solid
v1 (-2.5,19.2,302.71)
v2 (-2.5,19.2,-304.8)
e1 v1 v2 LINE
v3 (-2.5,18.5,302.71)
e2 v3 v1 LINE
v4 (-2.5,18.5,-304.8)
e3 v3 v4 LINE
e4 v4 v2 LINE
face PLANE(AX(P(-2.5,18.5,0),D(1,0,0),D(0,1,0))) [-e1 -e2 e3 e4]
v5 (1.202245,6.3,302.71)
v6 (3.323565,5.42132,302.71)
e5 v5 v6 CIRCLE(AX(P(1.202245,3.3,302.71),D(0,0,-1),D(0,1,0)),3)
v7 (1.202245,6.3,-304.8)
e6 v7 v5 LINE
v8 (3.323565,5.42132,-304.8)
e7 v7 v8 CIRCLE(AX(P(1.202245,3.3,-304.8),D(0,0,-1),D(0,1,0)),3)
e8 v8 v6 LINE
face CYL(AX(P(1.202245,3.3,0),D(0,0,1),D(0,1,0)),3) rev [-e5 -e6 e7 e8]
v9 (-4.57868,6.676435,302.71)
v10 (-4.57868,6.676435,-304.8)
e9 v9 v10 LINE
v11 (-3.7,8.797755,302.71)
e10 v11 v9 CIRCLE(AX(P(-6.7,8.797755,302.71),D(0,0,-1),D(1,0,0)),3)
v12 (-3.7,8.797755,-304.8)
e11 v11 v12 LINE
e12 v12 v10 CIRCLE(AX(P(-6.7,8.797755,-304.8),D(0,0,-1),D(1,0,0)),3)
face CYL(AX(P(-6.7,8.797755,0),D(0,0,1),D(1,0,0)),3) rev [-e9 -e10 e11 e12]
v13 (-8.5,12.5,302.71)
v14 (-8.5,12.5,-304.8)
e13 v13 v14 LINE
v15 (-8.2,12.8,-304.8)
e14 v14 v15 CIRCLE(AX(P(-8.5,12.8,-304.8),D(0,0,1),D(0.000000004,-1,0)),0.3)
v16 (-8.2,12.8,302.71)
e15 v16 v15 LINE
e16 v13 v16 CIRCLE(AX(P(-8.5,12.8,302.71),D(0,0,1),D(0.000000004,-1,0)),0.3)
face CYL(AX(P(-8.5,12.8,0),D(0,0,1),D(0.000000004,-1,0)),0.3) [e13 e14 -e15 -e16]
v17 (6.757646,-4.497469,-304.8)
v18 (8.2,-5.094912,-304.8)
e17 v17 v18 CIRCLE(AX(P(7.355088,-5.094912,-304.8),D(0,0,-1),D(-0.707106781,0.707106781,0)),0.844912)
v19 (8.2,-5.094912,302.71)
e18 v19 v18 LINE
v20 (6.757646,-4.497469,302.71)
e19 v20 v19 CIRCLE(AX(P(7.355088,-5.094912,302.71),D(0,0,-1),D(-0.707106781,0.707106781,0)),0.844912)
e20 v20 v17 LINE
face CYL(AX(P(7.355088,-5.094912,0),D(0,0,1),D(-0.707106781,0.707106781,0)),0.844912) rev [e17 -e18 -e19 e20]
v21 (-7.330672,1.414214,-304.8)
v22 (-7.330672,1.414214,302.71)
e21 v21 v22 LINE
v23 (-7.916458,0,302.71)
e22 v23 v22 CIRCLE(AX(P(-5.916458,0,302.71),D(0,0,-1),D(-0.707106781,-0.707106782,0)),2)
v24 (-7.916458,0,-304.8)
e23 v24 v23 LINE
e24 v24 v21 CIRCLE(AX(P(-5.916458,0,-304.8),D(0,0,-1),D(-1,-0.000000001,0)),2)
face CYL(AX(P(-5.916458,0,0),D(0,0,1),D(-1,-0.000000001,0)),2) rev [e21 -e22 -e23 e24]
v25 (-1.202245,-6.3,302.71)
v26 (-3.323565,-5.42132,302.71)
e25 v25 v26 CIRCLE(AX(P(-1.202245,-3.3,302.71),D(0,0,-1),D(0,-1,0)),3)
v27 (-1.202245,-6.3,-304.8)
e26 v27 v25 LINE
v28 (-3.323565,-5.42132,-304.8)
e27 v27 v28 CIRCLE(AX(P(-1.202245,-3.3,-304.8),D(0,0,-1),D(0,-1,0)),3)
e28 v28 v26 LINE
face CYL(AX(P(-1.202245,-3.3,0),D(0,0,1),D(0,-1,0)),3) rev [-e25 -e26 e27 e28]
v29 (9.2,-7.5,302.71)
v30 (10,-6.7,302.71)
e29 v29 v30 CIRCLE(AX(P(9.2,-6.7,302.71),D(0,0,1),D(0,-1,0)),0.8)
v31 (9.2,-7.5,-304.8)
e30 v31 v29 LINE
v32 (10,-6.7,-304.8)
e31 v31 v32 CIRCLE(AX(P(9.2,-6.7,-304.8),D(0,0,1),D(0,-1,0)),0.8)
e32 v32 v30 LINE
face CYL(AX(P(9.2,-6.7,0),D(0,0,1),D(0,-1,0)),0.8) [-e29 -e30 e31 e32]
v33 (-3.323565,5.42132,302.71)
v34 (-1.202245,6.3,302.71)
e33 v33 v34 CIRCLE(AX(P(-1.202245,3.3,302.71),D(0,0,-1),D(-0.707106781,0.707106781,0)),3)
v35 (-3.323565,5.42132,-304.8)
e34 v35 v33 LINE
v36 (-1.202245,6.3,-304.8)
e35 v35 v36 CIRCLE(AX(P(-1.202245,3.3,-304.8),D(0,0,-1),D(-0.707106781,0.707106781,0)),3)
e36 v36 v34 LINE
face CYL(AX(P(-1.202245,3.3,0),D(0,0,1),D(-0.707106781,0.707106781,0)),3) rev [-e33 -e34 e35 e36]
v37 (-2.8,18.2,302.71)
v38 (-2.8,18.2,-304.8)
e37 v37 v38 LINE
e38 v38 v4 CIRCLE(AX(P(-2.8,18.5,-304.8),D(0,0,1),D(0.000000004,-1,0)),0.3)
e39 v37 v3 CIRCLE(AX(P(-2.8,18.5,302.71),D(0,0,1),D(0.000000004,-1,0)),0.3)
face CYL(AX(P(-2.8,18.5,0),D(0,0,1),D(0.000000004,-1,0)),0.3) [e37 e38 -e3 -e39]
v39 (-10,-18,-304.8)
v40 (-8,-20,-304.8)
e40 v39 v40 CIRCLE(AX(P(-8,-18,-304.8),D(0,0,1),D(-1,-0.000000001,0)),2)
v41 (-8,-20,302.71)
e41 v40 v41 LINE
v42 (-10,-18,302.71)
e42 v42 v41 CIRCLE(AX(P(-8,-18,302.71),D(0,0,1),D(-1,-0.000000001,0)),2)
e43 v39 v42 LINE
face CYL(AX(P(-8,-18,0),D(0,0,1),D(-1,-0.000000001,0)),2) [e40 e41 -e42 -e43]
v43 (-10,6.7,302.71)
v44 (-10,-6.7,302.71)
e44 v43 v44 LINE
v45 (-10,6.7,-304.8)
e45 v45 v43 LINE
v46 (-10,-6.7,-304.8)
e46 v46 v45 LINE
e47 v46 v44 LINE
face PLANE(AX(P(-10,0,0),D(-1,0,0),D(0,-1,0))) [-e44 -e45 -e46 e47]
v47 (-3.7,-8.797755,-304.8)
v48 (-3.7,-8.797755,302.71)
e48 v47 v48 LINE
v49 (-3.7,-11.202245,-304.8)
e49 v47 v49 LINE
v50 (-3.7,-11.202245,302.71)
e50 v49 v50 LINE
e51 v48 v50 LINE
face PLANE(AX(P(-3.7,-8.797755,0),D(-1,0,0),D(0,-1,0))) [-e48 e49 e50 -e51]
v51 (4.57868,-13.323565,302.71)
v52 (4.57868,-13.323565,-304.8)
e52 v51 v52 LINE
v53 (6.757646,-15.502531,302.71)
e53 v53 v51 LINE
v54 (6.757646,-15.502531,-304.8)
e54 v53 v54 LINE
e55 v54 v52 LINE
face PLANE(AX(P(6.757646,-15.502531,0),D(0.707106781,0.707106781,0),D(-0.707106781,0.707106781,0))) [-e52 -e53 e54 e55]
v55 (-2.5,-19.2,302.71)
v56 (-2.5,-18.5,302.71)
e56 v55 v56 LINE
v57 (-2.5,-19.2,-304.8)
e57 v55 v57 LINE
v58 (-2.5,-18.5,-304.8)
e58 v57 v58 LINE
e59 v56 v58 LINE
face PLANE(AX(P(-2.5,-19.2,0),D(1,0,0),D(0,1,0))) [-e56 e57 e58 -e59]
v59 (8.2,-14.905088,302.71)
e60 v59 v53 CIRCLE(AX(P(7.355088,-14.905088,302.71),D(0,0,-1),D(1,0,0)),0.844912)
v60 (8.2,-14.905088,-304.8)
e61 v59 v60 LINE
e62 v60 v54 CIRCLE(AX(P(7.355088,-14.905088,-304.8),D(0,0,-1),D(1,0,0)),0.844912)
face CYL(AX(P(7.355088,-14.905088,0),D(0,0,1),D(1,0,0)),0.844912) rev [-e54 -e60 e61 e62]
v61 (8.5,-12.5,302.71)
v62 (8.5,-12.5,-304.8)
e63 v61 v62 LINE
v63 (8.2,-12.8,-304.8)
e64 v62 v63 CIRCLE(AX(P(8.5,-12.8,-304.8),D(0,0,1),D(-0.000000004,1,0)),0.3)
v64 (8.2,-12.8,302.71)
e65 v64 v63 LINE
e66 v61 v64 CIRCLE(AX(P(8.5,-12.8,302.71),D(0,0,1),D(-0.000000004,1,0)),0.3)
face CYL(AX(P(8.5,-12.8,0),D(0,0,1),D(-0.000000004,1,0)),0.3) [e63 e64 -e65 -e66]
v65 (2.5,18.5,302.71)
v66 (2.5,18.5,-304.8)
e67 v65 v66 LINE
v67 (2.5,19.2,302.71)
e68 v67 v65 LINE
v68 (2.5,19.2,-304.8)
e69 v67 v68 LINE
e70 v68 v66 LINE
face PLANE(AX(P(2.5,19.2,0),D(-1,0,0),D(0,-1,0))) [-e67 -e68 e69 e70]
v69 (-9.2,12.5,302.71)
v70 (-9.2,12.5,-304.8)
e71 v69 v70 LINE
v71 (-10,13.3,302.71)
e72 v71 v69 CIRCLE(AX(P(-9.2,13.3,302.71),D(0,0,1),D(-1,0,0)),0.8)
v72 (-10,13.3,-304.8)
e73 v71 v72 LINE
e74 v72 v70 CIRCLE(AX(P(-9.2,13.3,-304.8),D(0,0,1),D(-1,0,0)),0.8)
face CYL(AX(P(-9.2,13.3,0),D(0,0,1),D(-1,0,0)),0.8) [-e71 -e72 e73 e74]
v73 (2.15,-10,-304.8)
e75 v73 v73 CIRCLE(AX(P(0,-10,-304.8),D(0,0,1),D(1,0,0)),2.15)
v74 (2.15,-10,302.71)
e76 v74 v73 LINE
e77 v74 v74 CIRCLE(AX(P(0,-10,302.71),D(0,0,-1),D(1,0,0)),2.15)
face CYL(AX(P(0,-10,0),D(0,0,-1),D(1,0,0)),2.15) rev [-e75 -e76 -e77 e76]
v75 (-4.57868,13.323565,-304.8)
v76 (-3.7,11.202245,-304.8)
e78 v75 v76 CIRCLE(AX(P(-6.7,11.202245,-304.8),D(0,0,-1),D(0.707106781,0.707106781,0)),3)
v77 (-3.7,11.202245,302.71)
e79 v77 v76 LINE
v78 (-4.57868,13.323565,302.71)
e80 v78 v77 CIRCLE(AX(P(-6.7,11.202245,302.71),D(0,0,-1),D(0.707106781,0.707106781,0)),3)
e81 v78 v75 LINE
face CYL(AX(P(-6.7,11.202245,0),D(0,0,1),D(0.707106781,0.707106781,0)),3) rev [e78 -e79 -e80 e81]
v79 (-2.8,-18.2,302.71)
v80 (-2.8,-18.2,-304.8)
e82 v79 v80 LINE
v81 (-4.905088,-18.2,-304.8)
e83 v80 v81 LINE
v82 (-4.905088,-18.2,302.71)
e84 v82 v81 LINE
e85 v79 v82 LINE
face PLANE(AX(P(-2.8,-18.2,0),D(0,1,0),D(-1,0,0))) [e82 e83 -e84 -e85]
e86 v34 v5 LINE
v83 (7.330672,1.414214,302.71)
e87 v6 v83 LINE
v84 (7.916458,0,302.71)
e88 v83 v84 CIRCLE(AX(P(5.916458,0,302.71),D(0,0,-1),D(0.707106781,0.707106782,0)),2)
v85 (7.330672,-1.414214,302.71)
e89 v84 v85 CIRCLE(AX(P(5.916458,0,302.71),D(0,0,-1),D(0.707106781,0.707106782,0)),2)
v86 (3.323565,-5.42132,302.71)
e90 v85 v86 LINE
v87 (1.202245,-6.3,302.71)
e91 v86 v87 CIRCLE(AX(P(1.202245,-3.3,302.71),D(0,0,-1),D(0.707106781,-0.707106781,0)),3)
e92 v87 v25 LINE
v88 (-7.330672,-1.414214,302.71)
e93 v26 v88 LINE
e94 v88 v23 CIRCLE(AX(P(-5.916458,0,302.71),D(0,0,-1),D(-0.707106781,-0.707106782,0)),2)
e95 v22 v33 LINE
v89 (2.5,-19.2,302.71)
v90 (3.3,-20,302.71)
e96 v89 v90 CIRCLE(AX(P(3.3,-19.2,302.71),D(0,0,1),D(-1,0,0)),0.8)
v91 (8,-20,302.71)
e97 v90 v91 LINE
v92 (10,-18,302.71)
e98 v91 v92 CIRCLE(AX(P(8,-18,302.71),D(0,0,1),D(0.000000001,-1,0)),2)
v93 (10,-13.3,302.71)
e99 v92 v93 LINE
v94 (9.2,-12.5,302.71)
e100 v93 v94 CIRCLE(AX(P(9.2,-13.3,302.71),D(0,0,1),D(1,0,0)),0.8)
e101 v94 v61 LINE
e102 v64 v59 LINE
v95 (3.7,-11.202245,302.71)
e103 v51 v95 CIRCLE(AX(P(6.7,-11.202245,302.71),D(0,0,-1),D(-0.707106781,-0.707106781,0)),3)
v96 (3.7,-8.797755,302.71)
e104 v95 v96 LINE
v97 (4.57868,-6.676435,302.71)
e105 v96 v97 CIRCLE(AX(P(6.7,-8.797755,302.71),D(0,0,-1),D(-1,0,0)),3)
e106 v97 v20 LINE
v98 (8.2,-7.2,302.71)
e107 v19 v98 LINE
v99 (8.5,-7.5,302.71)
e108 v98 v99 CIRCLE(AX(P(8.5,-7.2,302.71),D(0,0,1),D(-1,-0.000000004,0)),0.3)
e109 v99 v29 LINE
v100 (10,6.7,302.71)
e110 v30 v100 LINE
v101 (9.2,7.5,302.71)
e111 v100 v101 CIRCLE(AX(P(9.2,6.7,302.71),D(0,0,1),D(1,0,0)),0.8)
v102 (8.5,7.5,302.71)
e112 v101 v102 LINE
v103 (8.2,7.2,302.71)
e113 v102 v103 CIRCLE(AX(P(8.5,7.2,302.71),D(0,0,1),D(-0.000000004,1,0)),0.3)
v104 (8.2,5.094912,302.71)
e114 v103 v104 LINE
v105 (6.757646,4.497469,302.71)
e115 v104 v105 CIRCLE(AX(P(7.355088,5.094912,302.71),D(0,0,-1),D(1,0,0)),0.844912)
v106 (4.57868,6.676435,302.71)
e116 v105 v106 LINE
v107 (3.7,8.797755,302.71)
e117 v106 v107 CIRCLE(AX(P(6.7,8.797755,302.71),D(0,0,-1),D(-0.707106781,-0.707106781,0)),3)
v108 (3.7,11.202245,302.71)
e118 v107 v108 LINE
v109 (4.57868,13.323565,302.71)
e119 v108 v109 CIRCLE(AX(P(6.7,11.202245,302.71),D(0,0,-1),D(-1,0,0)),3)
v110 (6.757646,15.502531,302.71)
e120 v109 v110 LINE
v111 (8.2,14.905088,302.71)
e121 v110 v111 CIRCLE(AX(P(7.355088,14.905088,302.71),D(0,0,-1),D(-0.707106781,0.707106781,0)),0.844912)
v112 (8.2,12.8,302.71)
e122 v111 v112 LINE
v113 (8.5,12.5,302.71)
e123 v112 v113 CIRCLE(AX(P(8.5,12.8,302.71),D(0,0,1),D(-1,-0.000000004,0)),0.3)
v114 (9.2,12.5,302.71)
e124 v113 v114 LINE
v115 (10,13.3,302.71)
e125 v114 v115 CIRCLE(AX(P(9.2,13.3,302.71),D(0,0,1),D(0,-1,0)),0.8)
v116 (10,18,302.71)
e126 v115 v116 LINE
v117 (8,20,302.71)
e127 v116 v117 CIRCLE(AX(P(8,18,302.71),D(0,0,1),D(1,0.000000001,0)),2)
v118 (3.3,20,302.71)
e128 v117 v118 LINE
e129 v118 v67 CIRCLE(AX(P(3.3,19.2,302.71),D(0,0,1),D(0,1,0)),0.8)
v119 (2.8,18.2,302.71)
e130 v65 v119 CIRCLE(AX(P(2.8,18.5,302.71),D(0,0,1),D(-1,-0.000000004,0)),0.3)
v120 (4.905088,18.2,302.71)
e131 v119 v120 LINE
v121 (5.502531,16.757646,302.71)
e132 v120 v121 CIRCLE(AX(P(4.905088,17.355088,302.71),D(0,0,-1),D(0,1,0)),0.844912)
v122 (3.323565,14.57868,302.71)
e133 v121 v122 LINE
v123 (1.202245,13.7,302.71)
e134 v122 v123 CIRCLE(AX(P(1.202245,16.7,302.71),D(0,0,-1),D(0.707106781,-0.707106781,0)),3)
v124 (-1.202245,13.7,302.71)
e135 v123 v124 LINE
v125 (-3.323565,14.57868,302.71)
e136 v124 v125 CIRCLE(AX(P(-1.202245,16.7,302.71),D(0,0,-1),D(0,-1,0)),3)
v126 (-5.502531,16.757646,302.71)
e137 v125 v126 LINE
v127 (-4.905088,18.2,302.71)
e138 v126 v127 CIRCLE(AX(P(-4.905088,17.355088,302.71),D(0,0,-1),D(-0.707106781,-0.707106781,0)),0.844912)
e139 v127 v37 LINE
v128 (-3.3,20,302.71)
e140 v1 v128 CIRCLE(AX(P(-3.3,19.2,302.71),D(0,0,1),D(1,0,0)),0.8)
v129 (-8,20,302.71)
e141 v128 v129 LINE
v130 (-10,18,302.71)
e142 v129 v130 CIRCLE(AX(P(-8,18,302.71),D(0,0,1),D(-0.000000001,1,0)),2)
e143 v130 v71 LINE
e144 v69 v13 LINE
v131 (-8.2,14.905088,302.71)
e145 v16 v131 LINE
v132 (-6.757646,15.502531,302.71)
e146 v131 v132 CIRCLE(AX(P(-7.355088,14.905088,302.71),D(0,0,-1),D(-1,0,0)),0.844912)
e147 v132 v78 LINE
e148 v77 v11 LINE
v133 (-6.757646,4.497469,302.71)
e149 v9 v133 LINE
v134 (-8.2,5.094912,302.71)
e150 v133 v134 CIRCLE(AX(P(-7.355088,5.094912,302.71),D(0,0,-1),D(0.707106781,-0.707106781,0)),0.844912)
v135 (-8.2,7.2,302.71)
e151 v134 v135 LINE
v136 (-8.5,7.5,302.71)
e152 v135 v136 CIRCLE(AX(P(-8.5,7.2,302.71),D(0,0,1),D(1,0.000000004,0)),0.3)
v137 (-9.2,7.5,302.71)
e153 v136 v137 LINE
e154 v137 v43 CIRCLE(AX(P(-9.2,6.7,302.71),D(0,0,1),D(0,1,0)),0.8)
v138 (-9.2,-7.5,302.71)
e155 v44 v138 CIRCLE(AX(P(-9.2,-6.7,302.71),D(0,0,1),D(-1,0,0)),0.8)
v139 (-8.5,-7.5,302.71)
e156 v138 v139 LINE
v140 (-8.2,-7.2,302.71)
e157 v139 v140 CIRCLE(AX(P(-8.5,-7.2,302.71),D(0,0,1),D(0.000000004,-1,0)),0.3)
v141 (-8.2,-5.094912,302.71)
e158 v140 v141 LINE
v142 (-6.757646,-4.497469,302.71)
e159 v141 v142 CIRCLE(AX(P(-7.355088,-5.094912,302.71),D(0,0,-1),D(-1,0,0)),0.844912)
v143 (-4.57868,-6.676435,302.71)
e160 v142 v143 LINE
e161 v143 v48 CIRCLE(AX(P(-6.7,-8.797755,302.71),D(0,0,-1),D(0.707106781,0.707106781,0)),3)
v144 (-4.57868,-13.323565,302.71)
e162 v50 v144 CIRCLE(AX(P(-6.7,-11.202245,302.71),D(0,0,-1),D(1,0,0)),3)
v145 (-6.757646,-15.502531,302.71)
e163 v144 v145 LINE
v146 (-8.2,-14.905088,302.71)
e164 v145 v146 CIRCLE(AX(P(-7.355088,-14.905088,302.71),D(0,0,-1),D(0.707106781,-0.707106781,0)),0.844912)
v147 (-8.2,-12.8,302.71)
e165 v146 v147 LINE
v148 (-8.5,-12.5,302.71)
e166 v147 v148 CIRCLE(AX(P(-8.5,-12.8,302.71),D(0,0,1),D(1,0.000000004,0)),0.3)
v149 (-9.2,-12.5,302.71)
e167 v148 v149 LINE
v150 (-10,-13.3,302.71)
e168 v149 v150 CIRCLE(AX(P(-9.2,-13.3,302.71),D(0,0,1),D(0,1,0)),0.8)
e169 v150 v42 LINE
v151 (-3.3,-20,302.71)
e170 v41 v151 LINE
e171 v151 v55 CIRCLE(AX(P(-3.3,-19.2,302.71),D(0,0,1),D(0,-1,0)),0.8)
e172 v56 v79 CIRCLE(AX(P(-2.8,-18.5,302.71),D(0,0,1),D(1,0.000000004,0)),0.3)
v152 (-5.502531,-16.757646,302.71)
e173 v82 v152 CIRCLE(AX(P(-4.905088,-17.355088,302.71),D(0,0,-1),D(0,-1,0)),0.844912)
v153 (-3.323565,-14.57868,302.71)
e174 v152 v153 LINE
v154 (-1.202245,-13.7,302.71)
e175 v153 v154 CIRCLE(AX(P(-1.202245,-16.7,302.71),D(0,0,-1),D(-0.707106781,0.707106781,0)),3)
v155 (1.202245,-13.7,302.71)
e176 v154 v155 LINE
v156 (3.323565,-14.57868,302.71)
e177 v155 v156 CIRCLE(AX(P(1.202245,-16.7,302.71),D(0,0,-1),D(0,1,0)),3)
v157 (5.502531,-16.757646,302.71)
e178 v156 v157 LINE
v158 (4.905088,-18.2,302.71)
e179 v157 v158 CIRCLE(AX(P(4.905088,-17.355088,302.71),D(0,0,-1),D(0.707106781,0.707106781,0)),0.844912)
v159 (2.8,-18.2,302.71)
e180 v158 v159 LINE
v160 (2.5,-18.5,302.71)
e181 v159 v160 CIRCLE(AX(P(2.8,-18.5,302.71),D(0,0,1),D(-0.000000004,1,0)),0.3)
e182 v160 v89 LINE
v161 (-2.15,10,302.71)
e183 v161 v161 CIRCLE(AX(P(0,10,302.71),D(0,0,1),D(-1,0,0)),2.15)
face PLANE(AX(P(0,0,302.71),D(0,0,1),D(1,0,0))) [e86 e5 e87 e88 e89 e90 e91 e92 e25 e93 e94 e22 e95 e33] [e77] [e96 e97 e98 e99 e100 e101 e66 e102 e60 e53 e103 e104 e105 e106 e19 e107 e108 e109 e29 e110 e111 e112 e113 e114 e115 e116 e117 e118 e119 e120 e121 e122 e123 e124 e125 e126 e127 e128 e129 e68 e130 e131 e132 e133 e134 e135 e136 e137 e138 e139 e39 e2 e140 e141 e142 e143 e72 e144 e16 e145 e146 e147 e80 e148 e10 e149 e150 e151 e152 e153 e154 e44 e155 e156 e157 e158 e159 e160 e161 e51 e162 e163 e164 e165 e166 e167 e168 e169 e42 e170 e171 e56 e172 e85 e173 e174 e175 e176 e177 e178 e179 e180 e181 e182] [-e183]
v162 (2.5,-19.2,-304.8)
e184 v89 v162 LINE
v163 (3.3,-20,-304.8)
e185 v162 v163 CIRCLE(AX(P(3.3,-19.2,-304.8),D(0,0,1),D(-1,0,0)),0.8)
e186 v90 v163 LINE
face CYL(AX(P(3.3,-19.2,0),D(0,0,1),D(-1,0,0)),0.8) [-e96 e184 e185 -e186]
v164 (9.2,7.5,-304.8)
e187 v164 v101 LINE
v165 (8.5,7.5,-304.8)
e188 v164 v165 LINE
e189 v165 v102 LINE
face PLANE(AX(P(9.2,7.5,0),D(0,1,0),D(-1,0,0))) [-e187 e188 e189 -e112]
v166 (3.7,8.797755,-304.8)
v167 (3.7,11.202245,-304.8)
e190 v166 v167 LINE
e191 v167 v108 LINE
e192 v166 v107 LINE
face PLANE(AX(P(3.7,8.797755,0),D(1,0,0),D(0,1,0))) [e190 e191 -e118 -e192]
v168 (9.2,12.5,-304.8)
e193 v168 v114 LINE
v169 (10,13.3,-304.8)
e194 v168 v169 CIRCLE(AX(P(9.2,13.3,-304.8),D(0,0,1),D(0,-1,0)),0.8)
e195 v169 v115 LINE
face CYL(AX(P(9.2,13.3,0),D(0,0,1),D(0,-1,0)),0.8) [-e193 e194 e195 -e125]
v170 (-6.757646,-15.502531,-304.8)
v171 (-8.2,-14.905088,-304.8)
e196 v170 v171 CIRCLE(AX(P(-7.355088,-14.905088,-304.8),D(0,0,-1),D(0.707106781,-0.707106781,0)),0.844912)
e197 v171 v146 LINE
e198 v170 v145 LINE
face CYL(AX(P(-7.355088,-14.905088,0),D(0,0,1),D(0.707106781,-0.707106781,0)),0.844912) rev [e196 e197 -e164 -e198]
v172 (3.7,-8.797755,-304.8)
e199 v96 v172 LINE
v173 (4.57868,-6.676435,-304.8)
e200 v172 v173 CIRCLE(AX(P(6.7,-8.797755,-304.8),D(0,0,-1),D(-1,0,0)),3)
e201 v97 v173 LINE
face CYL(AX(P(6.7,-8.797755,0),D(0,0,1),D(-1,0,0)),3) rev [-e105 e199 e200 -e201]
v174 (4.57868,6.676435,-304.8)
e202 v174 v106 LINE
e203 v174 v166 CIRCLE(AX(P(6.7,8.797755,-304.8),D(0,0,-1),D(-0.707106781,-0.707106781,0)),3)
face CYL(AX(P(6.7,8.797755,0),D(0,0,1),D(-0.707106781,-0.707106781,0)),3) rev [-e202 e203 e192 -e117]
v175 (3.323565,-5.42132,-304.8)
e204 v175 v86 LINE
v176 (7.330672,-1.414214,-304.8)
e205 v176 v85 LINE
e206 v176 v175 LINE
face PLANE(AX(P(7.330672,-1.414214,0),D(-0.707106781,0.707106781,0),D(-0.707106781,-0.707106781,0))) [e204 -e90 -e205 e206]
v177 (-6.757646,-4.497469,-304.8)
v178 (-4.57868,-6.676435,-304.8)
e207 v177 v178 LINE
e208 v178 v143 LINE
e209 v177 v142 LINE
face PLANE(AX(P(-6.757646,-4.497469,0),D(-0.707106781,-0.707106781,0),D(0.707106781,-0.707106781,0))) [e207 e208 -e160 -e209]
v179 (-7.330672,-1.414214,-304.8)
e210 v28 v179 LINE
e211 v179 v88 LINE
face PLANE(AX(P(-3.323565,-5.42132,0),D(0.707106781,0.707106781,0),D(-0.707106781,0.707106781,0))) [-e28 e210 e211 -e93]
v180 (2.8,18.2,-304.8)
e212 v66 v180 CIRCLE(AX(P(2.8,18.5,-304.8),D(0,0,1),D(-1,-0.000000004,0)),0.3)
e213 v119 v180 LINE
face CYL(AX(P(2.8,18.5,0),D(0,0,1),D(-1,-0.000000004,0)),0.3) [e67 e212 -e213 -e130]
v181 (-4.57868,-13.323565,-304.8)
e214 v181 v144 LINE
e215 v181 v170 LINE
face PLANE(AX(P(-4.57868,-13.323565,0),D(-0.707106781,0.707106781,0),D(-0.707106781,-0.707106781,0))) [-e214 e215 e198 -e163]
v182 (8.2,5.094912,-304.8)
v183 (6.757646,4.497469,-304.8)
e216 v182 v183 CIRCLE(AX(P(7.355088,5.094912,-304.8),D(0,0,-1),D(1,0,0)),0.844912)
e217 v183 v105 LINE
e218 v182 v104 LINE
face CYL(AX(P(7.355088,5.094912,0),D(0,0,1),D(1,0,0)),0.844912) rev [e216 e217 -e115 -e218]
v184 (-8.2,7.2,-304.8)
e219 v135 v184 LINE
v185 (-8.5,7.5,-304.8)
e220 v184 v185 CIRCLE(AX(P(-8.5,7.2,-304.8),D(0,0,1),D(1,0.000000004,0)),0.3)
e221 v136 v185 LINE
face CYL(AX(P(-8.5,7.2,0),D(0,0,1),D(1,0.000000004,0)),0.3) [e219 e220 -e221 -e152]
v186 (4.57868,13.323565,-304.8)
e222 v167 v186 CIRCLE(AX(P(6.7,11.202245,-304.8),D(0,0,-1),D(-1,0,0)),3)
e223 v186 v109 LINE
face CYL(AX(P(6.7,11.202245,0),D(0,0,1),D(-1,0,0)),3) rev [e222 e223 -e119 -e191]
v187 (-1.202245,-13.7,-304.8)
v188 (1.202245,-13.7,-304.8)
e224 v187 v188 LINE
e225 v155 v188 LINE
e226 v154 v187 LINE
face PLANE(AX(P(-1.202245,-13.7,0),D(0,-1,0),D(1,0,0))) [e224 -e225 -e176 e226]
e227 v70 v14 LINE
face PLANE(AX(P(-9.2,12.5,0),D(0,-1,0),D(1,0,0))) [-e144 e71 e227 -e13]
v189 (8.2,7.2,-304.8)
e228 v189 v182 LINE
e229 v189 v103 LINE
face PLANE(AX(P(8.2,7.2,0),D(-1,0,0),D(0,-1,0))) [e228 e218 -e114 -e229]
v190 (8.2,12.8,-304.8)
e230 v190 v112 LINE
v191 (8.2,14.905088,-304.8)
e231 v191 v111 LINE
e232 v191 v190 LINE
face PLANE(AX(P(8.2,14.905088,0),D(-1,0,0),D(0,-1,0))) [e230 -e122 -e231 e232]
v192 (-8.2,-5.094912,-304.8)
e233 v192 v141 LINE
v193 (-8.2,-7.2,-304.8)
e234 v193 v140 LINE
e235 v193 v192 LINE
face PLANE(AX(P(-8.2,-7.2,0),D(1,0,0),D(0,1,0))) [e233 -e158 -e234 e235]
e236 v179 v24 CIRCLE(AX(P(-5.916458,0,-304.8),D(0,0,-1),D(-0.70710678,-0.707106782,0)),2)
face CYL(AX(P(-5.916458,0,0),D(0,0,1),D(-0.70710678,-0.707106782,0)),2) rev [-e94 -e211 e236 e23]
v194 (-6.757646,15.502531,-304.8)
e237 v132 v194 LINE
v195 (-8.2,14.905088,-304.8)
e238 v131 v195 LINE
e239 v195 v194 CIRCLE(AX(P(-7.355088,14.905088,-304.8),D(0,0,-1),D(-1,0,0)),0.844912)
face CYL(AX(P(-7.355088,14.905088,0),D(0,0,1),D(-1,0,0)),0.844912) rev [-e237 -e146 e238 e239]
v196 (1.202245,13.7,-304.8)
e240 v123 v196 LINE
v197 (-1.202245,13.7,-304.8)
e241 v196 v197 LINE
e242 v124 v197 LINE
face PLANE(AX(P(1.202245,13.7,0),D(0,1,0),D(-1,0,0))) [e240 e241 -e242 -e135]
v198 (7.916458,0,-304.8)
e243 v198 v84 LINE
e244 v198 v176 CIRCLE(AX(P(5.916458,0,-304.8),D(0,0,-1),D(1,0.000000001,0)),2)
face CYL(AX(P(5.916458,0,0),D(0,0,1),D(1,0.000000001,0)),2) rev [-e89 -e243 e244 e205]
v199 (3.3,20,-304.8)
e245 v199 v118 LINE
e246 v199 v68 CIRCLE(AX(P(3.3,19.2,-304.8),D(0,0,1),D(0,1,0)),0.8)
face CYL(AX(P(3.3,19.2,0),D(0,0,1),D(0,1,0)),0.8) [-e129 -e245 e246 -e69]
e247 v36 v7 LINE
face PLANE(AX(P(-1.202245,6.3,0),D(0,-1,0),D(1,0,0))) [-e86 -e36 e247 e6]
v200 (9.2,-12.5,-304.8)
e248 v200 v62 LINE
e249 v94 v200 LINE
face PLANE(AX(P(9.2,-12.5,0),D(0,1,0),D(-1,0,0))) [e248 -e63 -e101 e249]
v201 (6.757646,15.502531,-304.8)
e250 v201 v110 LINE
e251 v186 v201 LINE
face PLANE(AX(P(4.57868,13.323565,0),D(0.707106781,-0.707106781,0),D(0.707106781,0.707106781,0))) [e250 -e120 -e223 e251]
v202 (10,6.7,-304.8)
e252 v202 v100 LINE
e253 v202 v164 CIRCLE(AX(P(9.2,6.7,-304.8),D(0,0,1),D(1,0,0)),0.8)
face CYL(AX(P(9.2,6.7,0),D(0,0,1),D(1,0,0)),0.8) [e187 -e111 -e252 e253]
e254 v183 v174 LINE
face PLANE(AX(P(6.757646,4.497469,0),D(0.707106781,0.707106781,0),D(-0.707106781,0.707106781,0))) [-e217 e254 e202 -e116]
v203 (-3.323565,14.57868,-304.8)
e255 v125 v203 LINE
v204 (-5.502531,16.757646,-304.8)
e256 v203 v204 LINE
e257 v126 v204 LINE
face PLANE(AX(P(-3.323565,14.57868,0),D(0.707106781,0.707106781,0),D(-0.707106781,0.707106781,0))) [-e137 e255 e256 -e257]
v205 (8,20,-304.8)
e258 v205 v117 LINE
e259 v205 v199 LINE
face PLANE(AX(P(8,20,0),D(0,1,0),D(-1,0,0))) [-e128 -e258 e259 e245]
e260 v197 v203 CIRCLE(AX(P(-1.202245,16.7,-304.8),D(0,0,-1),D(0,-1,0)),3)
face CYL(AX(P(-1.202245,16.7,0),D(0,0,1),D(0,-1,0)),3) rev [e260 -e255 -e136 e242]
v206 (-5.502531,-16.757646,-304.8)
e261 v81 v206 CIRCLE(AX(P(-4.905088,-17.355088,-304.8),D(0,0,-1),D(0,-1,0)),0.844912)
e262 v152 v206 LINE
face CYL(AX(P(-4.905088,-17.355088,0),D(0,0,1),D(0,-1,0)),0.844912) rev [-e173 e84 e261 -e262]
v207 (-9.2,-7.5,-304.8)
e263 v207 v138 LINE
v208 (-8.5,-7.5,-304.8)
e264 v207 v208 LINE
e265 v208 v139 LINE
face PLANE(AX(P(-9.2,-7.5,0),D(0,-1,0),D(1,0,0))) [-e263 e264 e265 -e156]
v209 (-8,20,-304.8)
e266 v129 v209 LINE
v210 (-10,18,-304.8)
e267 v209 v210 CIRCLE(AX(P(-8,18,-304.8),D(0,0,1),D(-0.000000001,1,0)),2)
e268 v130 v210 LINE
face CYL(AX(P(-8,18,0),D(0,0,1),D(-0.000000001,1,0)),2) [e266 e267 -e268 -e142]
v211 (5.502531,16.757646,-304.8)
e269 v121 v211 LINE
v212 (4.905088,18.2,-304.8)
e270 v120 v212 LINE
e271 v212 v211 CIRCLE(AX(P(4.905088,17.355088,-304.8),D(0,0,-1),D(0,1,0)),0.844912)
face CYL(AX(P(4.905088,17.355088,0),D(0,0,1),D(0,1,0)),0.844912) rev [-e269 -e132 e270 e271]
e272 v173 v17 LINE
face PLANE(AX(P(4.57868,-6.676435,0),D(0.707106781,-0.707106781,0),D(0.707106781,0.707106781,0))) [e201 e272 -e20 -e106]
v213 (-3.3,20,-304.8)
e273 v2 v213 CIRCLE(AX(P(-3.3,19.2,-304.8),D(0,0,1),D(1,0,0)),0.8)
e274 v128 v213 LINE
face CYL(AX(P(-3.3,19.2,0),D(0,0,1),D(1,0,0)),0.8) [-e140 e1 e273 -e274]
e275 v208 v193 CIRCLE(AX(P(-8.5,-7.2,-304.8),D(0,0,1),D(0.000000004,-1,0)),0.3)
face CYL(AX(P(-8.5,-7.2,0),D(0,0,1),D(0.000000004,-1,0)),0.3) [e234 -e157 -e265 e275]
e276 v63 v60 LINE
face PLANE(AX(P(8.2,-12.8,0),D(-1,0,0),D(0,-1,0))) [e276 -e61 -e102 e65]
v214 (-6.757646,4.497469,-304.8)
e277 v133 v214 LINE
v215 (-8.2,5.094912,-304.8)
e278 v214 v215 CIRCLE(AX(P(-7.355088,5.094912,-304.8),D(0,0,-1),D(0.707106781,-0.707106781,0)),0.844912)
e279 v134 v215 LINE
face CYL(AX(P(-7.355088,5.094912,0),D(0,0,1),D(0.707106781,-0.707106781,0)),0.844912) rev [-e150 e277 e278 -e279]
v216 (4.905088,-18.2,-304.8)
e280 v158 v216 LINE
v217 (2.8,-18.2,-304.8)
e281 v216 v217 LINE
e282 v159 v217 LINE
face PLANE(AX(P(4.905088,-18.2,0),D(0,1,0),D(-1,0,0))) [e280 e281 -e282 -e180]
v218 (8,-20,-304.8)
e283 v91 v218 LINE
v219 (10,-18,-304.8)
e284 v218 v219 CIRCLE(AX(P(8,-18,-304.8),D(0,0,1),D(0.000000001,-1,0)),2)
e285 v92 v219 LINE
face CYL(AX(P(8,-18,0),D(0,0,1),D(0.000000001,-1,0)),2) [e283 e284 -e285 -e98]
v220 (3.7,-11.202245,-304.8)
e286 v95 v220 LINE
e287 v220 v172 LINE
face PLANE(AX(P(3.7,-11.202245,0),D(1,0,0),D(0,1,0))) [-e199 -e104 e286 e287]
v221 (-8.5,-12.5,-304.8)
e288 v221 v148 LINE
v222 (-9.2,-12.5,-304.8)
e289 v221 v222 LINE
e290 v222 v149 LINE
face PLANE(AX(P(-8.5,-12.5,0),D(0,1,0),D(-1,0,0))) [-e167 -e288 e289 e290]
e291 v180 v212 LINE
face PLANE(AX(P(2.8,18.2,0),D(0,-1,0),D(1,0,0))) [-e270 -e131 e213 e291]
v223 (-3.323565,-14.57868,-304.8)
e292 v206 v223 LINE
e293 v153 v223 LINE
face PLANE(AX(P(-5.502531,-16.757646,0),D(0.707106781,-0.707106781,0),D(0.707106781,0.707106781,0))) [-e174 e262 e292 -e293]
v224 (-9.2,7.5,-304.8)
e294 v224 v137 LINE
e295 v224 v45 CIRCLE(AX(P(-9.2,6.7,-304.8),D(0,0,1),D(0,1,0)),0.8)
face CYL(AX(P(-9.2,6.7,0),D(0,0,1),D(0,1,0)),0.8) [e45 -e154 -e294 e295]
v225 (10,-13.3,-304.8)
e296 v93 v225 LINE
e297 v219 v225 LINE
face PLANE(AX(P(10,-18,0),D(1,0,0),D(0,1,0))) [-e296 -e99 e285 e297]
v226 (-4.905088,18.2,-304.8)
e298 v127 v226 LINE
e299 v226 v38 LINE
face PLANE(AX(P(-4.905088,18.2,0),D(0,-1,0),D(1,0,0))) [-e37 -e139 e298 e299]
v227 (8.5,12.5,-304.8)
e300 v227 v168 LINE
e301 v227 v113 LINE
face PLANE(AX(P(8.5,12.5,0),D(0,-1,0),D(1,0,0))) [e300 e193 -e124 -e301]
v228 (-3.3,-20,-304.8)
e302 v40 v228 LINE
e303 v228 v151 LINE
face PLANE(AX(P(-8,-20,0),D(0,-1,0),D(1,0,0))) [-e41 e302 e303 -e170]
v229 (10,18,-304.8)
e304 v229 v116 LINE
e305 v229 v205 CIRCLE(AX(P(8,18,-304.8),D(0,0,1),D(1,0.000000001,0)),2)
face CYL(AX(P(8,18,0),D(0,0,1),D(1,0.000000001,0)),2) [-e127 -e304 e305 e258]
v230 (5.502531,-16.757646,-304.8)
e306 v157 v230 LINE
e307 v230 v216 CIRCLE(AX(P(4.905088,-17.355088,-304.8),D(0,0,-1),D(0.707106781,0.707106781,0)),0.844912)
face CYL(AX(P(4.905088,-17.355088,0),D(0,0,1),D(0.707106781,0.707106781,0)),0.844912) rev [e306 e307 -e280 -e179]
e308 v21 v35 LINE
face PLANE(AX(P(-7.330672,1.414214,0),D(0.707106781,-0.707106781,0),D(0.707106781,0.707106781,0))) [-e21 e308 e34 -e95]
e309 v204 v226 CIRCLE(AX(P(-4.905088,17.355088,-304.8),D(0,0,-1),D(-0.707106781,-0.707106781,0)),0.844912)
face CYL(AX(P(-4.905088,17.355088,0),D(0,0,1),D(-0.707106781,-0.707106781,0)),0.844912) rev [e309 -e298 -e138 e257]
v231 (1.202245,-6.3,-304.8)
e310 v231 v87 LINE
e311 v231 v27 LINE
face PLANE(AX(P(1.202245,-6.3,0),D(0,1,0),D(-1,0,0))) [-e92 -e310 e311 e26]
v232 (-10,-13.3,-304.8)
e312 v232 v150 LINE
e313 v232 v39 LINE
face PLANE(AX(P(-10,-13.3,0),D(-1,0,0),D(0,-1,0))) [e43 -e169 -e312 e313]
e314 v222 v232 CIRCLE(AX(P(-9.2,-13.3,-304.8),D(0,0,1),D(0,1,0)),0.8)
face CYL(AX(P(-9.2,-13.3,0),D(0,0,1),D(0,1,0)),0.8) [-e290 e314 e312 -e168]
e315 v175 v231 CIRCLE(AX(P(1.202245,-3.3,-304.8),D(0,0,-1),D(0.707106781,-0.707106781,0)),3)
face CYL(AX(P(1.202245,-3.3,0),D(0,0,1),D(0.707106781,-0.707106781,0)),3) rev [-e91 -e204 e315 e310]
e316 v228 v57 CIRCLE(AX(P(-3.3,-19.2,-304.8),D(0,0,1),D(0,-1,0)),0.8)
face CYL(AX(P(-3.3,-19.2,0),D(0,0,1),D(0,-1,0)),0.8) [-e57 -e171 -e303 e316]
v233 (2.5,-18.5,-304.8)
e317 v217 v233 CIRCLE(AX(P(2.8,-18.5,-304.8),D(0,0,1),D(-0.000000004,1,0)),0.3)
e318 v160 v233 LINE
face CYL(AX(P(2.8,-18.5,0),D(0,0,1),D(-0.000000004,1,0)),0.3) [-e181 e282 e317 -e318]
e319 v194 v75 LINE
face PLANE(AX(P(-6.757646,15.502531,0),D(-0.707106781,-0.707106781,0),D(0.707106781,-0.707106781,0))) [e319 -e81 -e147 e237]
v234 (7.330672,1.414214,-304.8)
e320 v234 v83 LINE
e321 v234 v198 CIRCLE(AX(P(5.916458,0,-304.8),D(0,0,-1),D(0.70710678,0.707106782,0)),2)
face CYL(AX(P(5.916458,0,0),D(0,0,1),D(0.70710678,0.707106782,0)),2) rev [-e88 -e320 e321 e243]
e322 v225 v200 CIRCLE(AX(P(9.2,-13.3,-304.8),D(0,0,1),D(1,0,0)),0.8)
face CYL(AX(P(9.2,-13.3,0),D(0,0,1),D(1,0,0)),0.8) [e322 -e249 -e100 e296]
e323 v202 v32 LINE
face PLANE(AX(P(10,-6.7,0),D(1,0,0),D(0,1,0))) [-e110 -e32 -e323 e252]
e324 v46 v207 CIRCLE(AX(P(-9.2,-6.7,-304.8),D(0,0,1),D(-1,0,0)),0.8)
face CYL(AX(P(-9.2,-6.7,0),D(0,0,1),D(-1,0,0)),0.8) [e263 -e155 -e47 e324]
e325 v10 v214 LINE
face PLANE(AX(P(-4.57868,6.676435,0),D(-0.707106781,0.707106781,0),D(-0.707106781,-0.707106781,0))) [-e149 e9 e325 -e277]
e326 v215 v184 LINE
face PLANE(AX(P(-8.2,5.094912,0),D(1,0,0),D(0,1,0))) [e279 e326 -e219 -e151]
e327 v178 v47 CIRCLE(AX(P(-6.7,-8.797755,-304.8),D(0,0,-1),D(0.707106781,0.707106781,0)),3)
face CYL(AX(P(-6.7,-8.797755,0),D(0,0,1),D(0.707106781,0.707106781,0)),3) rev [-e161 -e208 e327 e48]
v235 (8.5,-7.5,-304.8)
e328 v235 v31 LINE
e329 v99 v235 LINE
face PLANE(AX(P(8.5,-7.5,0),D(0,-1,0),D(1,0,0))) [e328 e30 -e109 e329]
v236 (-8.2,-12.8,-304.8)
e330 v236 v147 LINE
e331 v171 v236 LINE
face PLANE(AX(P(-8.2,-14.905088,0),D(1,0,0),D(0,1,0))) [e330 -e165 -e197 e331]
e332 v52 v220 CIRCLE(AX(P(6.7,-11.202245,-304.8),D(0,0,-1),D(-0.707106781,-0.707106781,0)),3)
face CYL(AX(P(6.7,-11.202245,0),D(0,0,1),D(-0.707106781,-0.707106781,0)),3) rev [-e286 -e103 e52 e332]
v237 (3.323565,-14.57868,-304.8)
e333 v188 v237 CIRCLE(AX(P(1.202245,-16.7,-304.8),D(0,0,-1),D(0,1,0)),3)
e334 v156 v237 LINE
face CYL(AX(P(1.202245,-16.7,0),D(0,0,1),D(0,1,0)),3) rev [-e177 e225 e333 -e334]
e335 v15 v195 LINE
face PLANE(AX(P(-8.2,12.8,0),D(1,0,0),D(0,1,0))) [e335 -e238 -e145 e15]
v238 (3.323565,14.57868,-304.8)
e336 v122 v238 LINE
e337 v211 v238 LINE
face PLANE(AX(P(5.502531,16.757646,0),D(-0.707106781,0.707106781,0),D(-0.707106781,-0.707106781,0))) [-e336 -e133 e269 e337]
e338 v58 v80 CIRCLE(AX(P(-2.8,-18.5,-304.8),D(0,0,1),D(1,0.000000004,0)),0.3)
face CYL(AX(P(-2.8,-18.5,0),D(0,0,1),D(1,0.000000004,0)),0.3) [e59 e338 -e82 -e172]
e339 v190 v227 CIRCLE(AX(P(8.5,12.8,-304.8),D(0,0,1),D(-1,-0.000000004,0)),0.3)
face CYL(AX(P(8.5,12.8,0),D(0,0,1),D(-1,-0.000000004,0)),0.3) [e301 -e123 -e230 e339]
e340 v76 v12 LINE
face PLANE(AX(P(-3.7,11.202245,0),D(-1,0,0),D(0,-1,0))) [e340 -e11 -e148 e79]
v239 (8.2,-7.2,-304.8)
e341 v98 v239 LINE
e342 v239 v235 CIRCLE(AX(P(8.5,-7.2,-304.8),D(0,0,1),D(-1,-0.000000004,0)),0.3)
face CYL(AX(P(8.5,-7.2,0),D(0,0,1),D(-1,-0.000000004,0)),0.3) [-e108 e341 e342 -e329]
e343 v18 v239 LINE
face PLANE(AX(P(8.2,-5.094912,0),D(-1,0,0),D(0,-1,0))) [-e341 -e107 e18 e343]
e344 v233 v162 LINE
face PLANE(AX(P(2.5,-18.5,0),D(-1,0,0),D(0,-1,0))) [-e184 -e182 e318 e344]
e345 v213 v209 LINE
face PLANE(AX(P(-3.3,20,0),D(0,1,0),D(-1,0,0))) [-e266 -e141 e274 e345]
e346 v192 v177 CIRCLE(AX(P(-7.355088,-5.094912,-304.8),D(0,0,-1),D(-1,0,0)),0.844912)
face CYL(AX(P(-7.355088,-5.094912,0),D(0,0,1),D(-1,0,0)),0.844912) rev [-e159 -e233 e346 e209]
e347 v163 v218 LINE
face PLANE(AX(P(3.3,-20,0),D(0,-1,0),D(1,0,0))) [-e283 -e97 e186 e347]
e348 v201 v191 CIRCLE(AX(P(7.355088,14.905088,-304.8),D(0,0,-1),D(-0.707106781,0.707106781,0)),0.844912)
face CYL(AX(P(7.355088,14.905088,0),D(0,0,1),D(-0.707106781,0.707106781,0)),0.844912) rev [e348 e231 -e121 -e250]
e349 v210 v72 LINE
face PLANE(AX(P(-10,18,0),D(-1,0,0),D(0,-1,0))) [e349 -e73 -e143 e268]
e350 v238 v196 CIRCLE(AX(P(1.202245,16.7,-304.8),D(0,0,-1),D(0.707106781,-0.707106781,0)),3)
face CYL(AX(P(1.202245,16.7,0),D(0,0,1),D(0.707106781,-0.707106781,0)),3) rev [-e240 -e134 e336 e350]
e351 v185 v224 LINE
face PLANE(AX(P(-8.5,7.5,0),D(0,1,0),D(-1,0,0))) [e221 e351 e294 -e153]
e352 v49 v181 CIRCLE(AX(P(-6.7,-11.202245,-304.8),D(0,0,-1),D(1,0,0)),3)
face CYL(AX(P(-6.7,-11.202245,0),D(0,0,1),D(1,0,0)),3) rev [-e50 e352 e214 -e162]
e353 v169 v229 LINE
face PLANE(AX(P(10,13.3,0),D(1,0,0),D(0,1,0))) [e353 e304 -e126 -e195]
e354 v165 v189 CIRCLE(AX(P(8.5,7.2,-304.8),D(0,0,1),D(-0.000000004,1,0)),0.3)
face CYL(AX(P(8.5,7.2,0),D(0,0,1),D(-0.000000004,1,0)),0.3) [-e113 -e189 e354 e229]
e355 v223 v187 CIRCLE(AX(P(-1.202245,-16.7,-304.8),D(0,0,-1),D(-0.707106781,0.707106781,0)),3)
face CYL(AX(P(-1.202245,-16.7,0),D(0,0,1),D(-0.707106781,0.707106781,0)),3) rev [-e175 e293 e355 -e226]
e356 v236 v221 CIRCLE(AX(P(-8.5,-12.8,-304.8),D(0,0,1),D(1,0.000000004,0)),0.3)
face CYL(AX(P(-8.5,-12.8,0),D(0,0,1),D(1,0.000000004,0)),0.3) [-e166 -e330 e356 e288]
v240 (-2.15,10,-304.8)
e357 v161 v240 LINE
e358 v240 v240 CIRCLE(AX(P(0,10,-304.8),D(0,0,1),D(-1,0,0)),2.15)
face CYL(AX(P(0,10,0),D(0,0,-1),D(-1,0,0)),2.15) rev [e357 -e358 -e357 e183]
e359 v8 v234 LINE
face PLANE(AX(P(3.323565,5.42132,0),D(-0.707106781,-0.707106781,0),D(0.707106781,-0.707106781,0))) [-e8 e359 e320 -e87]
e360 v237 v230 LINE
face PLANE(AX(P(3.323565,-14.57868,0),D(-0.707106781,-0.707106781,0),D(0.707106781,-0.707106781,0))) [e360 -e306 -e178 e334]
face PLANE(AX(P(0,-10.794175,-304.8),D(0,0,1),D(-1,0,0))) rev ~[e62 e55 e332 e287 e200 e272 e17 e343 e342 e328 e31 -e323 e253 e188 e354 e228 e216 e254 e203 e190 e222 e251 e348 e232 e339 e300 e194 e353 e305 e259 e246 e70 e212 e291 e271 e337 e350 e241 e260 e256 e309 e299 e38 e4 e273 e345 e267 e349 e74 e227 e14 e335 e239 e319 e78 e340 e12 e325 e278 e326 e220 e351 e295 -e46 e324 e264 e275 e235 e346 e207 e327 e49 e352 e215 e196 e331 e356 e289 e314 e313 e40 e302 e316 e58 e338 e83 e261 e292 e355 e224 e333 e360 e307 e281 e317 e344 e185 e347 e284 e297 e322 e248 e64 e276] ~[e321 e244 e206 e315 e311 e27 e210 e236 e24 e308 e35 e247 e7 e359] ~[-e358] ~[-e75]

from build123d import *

# Parameters (mm, degrees)
SKETCH3_R           = 2.15
BOSS_EXTRUDE1_DEPTH = 304.8
CIRPATTERN1_COUNT   = 2
SKETCH4_R           = 2.15
CUT_EXTRUDE1_DEPTH  = 2.09


with BuildPart() as part:
    # Sketch3 → Boss-Extrude1 (new, symmetric)
    with BuildSketch(Plane.XY):
        with BuildLine():
            Line((-8.5, 7.5), (-9.2, 7.5))
            ThreePointArc((-9.2, 7.5), (-9.765685425, 7.265685425), (-10, 6.7))
            Line((-10, 6.7), (-10, 0))
            Line((-10, 0), (-7.916458339, 0))
            ThreePointArc((-7.916458339, 0), (-7.764217404, 0.765366865), (-7.330671901, 1.414213562))
            Line((-7.330671901, 1.414213562), (-3.32356512, 5.421320344))
            ThreePointArc((-3.32356512, 5.421320344), (-2.350295073, 6.071638598), (-1.202244776, 6.3))
            Line((-1.202244776, 6.3), (1.202244776, 6.3))
            ThreePointArc((1.202244776, 6.3), (2.350295073, 6.071638598), (3.32356512, 5.421320344))
            Line((3.32356512, 5.421320344), (7.330671901, 1.414213562))
            ThreePointArc((7.330671901, 1.414213562), (7.764217404, 0.765366865), (7.916458339, 0))
            Line((7.916458339, 0), (10, 0))
            Line((10, 0), (10, 6.7))
            ThreePointArc((10, 6.7), (9.765685425, 7.265685425), (9.2, 7.5))
            Line((9.2, 7.5), (8.5, 7.5))
            ThreePointArc((8.5, 7.5), (8.287867966, 7.412132034), (8.2, 7.2))
            Line((8.2, 7.2), (8.2, 5.094911614))
            ThreePointArc((8.2, 5.094911614), (7.678422063, 4.314315067), (6.757645654, 4.497468882))
            Line((6.757645654, 4.497468882), (4.578679656, 6.67643488))
            ThreePointArc((4.578679656, 6.67643488), (3.928361402, 7.649704927), (3.7, 8.797755224))
            Line((3.7, 8.797755224), (3.7, 11.202244776))
            ThreePointArc((3.7, 11.202244776), (3.928361402, 12.350295073), (4.578679656, 13.32356512))
            Line((4.578679656, 13.32356512), (6.757645654, 15.502531118))
            ThreePointArc((6.757645654, 15.502531118), (7.678422063, 15.685684933), (8.2, 14.905088386))
            Line((8.2, 14.905088386), (8.2, 12.8))
            ThreePointArc((8.2, 12.8), (8.287867966, 12.587867966), (8.5, 12.5))
            Line((8.5, 12.5), (9.2, 12.5))
            ThreePointArc((9.2, 12.5), (9.765685425, 12.734314575), (10, 13.3))
            Line((10, 13.3), (10, 18))
            ThreePointArc((10, 18), (9.414213562, 19.414213562), (8, 20))
            Line((8, 20), (3.3, 20))
            ThreePointArc((3.3, 20), (2.734314575, 19.765685425), (2.5, 19.2))
            Line((2.5, 19.2), (2.5, 18.5))
            ThreePointArc((2.5, 18.5), (2.587867966, 18.287867966), (2.8, 18.2))
            Line((2.8, 18.2), (4.905088386, 18.2))
            ThreePointArc((4.905088386, 18.2), (5.685684933, 17.678422063), (5.502531118, 16.757645654))
            Line((5.502531118, 16.757645654), (3.32356512, 14.578679656))
            ThreePointArc((3.32356512, 14.578679656), (2.350295073, 13.928361402), (1.202244776, 13.7))
            Line((1.202244776, 13.7), (-1.202244776, 13.7))
            ThreePointArc((-1.202244776, 13.7), (-2.350295073, 13.928361402), (-3.32356512, 14.578679656))
            Line((-3.32356512, 14.578679656), (-5.502531118, 16.757645654))
            ThreePointArc((-5.502531118, 16.757645654), (-5.685684933, 17.678422063), (-4.905088386, 18.2))
            Line((-4.905088386, 18.2), (-2.8, 18.2))
            ThreePointArc((-2.8, 18.2), (-2.587867966, 18.287867966), (-2.5, 18.5))
            Line((-2.5, 18.5), (-2.5, 19.2))
            ThreePointArc((-2.5, 19.2), (-2.734314575, 19.765685425), (-3.3, 20))
            Line((-3.3, 20), (-8, 20))
            ThreePointArc((-8, 20), (-9.414213562, 19.414213562), (-10, 18))
            Line((-10, 18), (-10, 13.3))
            ThreePointArc((-10, 13.3), (-9.765685425, 12.734314575), (-9.2, 12.5))
            Line((-9.2, 12.5), (-8.5, 12.5))
            ThreePointArc((-8.5, 12.5), (-8.287867966, 12.587867966), (-8.2, 12.8))
            Line((-8.2, 12.8), (-8.2, 14.905088386))
            ThreePointArc((-8.2, 14.905088386), (-7.678422063, 15.685684933), (-6.757645654, 15.502531118))
            Line((-6.757645654, 15.502531118), (-4.578679656, 13.32356512))
            ThreePointArc((-4.578679656, 13.32356512), (-3.928361402, 12.350295073), (-3.7, 11.202244776))
            Line((-3.7, 11.202244776), (-3.7, 8.797755224))
            ThreePointArc((-3.7, 8.797755224), (-3.928361402, 7.649704927), (-4.578679656, 6.67643488))
            Line((-4.578679656, 6.67643488), (-6.757645654, 4.497468882))
            ThreePointArc((-6.757645654, 4.497468882), (-7.678422063, 4.314315067), (-8.2, 5.094911614))
            Line((-8.2, 5.094911614), (-8.2, 7.2))
            ThreePointArc((-8.2, 7.2), (-8.287867966, 7.412132034), (-8.5, 7.5))
        make_face()
        with Locations(Location((0, 10, 0), (0, 0, 180))):
            Circle(SKETCH3_R, mode=Mode.SUBTRACT)
    boss_extrude1 = extrude(amount=BOSS_EXTRUDE1_DEPTH, both=True)

    # CirPattern1: Boss-Extrude1 ×2 about axis
    cirpattern1_axis = Axis((0, 0, 0), (0, 0, 1))
    for i in range(1, CIRPATTERN1_COUNT):
        add(boss_extrude1.rotate(cirpattern1_axis, i * 360 / CIRPATTERN1_COUNT))

    # Sketch4 → Cut-Extrude1 (cut)
    with BuildSketch(Plane.XY.offset(304.8)):
        with BuildLine():
            Line((-2.5, 18.5), (-2.5, 19.2))
            ThreePointArc((-2.5, 19.2), (-2.734314575, 19.765685425), (-3.3, 20))
            Line((-3.3, 20), (-8, 20))
            ThreePointArc((-8, 20), (-9.414213562, 19.414213562), (-10, 18))
            Line((-10, 18), (-10, 13.3))
            ThreePointArc((-10, 13.3), (-9.765685425, 12.734314575), (-9.2, 12.5))
            Line((-9.2, 12.5), (-8.5, 12.5))
            ThreePointArc((-8.5, 12.5), (-8.287867966, 12.587867966), (-8.2, 12.8))
            Line((-8.2, 12.8), (-8.2, 14.905088386))
            ThreePointArc((-8.2, 14.905088386), (-7.678422063, 15.685684933), (-6.757645654, 15.502531118))
            Line((-6.757645654, 15.502531118), (-4.578679656, 13.32356512))
            ThreePointArc((-4.578679656, 13.32356512), (-3.928361402, 12.350295073), (-3.7, 11.202244776))
            Line((-3.7, 11.202244776), (-3.7, 8.797755224))
            ThreePointArc((-3.7, 8.797755224), (-3.928361402, 7.649704927), (-4.578679656, 6.67643488))
            Line((-4.578679656, 6.67643488), (-6.757645654, 4.497468882))
            ThreePointArc((-6.757645654, 4.497468882), (-7.678422063, 4.314315067), (-8.2, 5.094911614))
            Line((-8.2, 5.094911614), (-8.2, 7.2))
            ThreePointArc((-8.2, 7.2), (-8.287867966, 7.412132034), (-8.5, 7.5))
            Line((-8.5, 7.5), (-9.2, 7.5))
            ThreePointArc((-9.2, 7.5), (-9.765685425, 7.265685425), (-10, 6.7))
            Line((-10, 6.7), (-10, -6.7))
            ThreePointArc((-10, -6.7), (-9.765685425, -7.265685425), (-9.2, -7.5))
            Line((-9.2, -7.5), (-8.5, -7.5))
            ThreePointArc((-8.5, -7.5), (-8.287867966, -7.412132034), (-8.2, -7.2))
            Line((-8.2, -7.2), (-8.2, -5.094911614))
            ThreePointArc((-8.2, -5.094911614), (-7.678422063, -4.314315067), (-6.757645654, -4.497468882))
            Line((-6.757645654, -4.497468882), (-4.578679656, -6.67643488))
            ThreePointArc((-4.578679656, -6.67643488), (-3.928361402, -7.649704927), (-3.7, -8.797755224))
            Line((-3.7, -8.797755224), (-3.7, -11.202244776))
            ThreePointArc((-3.7, -11.202244776), (-3.928361402, -12.350295073), (-4.578679656, -13.32356512))
            Line((-4.578679656, -13.32356512), (-6.757645654, -15.502531118))
            ThreePointArc((-6.757645654, -15.502531118), (-7.678422063, -15.685684933), (-8.2, -14.905088386))
            Line((-8.2, -14.905088386), (-8.2, -12.8))
            ThreePointArc((-8.2, -12.8), (-8.287867966, -12.587867966), (-8.5, -12.5))
            Line((-8.5, -12.5), (-9.2, -12.5))
            ThreePointArc((-9.2, -12.5), (-9.765685425, -12.734314575), (-10, -13.3))
            Line((-10, -13.3), (-10, -18))
            ThreePointArc((-10, -18), (-9.414213562, -19.414213562), (-8, -20))
            Line((-8, -20), (-3.3, -20))
            ThreePointArc((-3.3, -20), (-2.734314575, -19.765685425), (-2.5, -19.2))
            Line((-2.5, -19.2), (-2.5, -18.5))
            ThreePointArc((-2.5, -18.5), (-2.587867966, -18.287867966), (-2.8, -18.2))
            Line((-2.8, -18.2), (-4.905088386, -18.2))
            ThreePointArc((-4.905088386, -18.2), (-5.685684933, -17.678422063), (-5.502531118, -16.757645654))
            Line((-5.502531118, -16.757645654), (-3.32356512, -14.578679656))
            ThreePointArc((-3.32356512, -14.578679656), (-2.350295073, -13.928361402), (-1.202244776, -13.7))
            Line((-1.202244776, -13.7), (1.202244776, -13.7))
            ThreePointArc((1.202244776, -13.7), (2.350295073, -13.928361402), (3.32356512, -14.578679656))
            Line((3.32356512, -14.578679656), (5.502531118, -16.757645654))
            ThreePointArc((5.502531118, -16.757645654), (5.685684933, -17.678422063), (4.905088386, -18.2))
            Line((4.905088386, -18.2), (2.8, -18.2))
            ThreePointArc((2.8, -18.2), (2.587867966, -18.287867966), (2.5, -18.5))
            Line((2.5, -18.5), (2.5, -19.2))
            ThreePointArc((2.5, -19.2), (2.734314575, -19.765685425), (3.3, -20))
            Line((3.3, -20), (8, -20))
            ThreePointArc((8, -20), (9.414213562, -19.414213562), (10, -18))
            Line((10, -18), (10, -13.3))
            ThreePointArc((10, -13.3), (9.765685425, -12.734314575), (9.2, -12.5))
            Line((9.2, -12.5), (8.5, -12.5))
            ThreePointArc((8.5, -12.5), (8.287867966, -12.587867966), (8.2, -12.8))
            Line((8.2, -12.8), (8.2, -14.905088386))
            ThreePointArc((8.2, -14.905088386), (7.678422063, -15.685684933), (6.757645654, -15.502531118))
            Line((6.757645654, -15.502531118), (4.578679656, -13.32356512))
            ThreePointArc((4.578679656, -13.32356512), (3.928361402, -12.350295073), (3.7, -11.202244776))
            Line((3.7, -11.202244776), (3.7, -8.797755224))
            ThreePointArc((3.7, -8.797755224), (3.928361402, -7.649704927), (4.578679656, -6.67643488))
            Line((4.578679656, -6.67643488), (6.757645654, -4.497468882))
            ThreePointArc((6.757645654, -4.497468882), (7.678422063, -4.314315067), (8.2, -5.094911614))
            Line((8.2, -5.094911614), (8.2, -7.2))
            ThreePointArc((8.2, -7.2), (8.287867966, -7.412132034), (8.5, -7.5))
            Line((8.5, -7.5), (9.2, -7.5))
            ThreePointArc((9.2, -7.5), (9.765685425, -7.265685425), (10, -6.7))
            Line((10, -6.7), (10, 6.7))
            ThreePointArc((10, 6.7), (9.765685425, 7.265685425), (9.2, 7.5))
            Line((9.2, 7.5), (8.5, 7.5))
            ThreePointArc((8.5, 7.5), (8.287867966, 7.412132034), (8.2, 7.2))
            Line((8.2, 7.2), (8.2, 5.094911614))
            ThreePointArc((8.2, 5.094911614), (7.678422063, 4.314315067), (6.757645654, 4.497468882))
            Line((6.757645654, 4.497468882), (4.578679656, 6.67643488))
            ThreePointArc((4.578679656, 6.67643488), (3.928361402, 7.649704927), (3.7, 8.797755224))
            Line((3.7, 8.797755224), (3.7, 11.202244776))
            ThreePointArc((3.7, 11.202244776), (3.928361402, 12.350295073), (4.578679656, 13.32356512))
            Line((4.578679656, 13.32356512), (6.757645654, 15.502531118))
            ThreePointArc((6.757645654, 15.502531118), (7.678422063, 15.685684933), (8.2, 14.905088386))
            Line((8.2, 14.905088386), (8.2, 12.8))
            ThreePointArc((8.2, 12.8), (8.287867966, 12.587867966), (8.5, 12.5))
            Line((8.5, 12.5), (9.2, 12.5))
            ThreePointArc((9.2, 12.5), (9.765685425, 12.734314575), (10, 13.3))
            Line((10, 13.3), (10, 18))
            ThreePointArc((10, 18), (9.414213562, 19.414213562), (8, 20))
            Line((8, 20), (3.3, 20))
            ThreePointArc((3.3, 20), (2.734314575, 19.765685425), (2.5, 19.2))
            Line((2.5, 19.2), (2.5, 18.5))
            ThreePointArc((2.5, 18.5), (2.587867966, 18.287867966), (2.8, 18.2))
            Line((2.8, 18.2), (4.905088386, 18.2))
            ThreePointArc((4.905088386, 18.2), (5.685684933, 17.678422063), (5.502531118, 16.757645654))
            Line((5.502531118, 16.757645654), (3.32356512, 14.578679656))
            ThreePointArc((3.32356512, 14.578679656), (2.350295073, 13.928361402), (1.202244776, 13.7))
            Line((1.202244776, 13.7), (-1.202244776, 13.7))
            ThreePointArc((-1.202244776, 13.7), (-2.350295073, 13.928361402), (-3.32356512, 14.578679656))
            Line((-3.32356512, 14.578679656), (-5.502531118, 16.757645654))
            ThreePointArc((-5.502531118, 16.757645654), (-5.685684933, 17.678422063), (-4.905088386, 18.2))
            Line((-4.905088386, 18.2), (-2.8, 18.2))
            ThreePointArc((-2.8, 18.2), (-2.587867966, 18.287867966), (-2.5, 18.5))
        make_face()
        with Locations(Location((0, 10, 0), (0, 0, 180))):
            Circle(SKETCH4_R, mode=Mode.SUBTRACT)
        with Locations(Location((0, -10, 0), (0, 0, 90))):
            Circle(SKETCH4_R, mode=Mode.SUBTRACT)
        with BuildLine():
            Line((7.330671901, -1.414213562), (3.32356512, -5.421320344))
            ThreePointArc((3.32356512, -5.421320344), (2.350295073, -6.071638598), (1.202244776, -6.3))
            Line((1.202244776, -6.3), (-1.202244776, -6.3))
            ThreePointArc((-1.202244776, -6.3), (-2.350295073, -6.071638598), (-3.32356512, -5.421320344))
            Line((-3.32356512, -5.421320344), (-7.330671901, -1.414213562))
            ThreePointArc((-7.330671901, -1.414213562), (-7.916458339, 0), (-7.330671901, 1.414213562))
            Line((-7.330671901, 1.414213562), (-3.32356512, 5.421320344))
            ThreePointArc((-3.32356512, 5.421320344), (-2.350295073, 6.071638598), (-1.202244776, 6.3))
            Line((-1.202244776, 6.3), (1.202244776, 6.3))
            ThreePointArc((1.202244776, 6.3), (2.350295073, 6.071638598), (3.32356512, 5.421320344))
            Line((3.32356512, 5.421320344), (7.330671901, 1.414213562))
            ThreePointArc((7.330671901, 1.414213562), (7.916458339, 0), (7.330671901, -1.414213562))
        make_face(mode=Mode.SUBTRACT)
    extrude(amount=-CUT_EXTRUDE1_DEPTH, mode=Mode.SUBTRACT)


solid = part.part
